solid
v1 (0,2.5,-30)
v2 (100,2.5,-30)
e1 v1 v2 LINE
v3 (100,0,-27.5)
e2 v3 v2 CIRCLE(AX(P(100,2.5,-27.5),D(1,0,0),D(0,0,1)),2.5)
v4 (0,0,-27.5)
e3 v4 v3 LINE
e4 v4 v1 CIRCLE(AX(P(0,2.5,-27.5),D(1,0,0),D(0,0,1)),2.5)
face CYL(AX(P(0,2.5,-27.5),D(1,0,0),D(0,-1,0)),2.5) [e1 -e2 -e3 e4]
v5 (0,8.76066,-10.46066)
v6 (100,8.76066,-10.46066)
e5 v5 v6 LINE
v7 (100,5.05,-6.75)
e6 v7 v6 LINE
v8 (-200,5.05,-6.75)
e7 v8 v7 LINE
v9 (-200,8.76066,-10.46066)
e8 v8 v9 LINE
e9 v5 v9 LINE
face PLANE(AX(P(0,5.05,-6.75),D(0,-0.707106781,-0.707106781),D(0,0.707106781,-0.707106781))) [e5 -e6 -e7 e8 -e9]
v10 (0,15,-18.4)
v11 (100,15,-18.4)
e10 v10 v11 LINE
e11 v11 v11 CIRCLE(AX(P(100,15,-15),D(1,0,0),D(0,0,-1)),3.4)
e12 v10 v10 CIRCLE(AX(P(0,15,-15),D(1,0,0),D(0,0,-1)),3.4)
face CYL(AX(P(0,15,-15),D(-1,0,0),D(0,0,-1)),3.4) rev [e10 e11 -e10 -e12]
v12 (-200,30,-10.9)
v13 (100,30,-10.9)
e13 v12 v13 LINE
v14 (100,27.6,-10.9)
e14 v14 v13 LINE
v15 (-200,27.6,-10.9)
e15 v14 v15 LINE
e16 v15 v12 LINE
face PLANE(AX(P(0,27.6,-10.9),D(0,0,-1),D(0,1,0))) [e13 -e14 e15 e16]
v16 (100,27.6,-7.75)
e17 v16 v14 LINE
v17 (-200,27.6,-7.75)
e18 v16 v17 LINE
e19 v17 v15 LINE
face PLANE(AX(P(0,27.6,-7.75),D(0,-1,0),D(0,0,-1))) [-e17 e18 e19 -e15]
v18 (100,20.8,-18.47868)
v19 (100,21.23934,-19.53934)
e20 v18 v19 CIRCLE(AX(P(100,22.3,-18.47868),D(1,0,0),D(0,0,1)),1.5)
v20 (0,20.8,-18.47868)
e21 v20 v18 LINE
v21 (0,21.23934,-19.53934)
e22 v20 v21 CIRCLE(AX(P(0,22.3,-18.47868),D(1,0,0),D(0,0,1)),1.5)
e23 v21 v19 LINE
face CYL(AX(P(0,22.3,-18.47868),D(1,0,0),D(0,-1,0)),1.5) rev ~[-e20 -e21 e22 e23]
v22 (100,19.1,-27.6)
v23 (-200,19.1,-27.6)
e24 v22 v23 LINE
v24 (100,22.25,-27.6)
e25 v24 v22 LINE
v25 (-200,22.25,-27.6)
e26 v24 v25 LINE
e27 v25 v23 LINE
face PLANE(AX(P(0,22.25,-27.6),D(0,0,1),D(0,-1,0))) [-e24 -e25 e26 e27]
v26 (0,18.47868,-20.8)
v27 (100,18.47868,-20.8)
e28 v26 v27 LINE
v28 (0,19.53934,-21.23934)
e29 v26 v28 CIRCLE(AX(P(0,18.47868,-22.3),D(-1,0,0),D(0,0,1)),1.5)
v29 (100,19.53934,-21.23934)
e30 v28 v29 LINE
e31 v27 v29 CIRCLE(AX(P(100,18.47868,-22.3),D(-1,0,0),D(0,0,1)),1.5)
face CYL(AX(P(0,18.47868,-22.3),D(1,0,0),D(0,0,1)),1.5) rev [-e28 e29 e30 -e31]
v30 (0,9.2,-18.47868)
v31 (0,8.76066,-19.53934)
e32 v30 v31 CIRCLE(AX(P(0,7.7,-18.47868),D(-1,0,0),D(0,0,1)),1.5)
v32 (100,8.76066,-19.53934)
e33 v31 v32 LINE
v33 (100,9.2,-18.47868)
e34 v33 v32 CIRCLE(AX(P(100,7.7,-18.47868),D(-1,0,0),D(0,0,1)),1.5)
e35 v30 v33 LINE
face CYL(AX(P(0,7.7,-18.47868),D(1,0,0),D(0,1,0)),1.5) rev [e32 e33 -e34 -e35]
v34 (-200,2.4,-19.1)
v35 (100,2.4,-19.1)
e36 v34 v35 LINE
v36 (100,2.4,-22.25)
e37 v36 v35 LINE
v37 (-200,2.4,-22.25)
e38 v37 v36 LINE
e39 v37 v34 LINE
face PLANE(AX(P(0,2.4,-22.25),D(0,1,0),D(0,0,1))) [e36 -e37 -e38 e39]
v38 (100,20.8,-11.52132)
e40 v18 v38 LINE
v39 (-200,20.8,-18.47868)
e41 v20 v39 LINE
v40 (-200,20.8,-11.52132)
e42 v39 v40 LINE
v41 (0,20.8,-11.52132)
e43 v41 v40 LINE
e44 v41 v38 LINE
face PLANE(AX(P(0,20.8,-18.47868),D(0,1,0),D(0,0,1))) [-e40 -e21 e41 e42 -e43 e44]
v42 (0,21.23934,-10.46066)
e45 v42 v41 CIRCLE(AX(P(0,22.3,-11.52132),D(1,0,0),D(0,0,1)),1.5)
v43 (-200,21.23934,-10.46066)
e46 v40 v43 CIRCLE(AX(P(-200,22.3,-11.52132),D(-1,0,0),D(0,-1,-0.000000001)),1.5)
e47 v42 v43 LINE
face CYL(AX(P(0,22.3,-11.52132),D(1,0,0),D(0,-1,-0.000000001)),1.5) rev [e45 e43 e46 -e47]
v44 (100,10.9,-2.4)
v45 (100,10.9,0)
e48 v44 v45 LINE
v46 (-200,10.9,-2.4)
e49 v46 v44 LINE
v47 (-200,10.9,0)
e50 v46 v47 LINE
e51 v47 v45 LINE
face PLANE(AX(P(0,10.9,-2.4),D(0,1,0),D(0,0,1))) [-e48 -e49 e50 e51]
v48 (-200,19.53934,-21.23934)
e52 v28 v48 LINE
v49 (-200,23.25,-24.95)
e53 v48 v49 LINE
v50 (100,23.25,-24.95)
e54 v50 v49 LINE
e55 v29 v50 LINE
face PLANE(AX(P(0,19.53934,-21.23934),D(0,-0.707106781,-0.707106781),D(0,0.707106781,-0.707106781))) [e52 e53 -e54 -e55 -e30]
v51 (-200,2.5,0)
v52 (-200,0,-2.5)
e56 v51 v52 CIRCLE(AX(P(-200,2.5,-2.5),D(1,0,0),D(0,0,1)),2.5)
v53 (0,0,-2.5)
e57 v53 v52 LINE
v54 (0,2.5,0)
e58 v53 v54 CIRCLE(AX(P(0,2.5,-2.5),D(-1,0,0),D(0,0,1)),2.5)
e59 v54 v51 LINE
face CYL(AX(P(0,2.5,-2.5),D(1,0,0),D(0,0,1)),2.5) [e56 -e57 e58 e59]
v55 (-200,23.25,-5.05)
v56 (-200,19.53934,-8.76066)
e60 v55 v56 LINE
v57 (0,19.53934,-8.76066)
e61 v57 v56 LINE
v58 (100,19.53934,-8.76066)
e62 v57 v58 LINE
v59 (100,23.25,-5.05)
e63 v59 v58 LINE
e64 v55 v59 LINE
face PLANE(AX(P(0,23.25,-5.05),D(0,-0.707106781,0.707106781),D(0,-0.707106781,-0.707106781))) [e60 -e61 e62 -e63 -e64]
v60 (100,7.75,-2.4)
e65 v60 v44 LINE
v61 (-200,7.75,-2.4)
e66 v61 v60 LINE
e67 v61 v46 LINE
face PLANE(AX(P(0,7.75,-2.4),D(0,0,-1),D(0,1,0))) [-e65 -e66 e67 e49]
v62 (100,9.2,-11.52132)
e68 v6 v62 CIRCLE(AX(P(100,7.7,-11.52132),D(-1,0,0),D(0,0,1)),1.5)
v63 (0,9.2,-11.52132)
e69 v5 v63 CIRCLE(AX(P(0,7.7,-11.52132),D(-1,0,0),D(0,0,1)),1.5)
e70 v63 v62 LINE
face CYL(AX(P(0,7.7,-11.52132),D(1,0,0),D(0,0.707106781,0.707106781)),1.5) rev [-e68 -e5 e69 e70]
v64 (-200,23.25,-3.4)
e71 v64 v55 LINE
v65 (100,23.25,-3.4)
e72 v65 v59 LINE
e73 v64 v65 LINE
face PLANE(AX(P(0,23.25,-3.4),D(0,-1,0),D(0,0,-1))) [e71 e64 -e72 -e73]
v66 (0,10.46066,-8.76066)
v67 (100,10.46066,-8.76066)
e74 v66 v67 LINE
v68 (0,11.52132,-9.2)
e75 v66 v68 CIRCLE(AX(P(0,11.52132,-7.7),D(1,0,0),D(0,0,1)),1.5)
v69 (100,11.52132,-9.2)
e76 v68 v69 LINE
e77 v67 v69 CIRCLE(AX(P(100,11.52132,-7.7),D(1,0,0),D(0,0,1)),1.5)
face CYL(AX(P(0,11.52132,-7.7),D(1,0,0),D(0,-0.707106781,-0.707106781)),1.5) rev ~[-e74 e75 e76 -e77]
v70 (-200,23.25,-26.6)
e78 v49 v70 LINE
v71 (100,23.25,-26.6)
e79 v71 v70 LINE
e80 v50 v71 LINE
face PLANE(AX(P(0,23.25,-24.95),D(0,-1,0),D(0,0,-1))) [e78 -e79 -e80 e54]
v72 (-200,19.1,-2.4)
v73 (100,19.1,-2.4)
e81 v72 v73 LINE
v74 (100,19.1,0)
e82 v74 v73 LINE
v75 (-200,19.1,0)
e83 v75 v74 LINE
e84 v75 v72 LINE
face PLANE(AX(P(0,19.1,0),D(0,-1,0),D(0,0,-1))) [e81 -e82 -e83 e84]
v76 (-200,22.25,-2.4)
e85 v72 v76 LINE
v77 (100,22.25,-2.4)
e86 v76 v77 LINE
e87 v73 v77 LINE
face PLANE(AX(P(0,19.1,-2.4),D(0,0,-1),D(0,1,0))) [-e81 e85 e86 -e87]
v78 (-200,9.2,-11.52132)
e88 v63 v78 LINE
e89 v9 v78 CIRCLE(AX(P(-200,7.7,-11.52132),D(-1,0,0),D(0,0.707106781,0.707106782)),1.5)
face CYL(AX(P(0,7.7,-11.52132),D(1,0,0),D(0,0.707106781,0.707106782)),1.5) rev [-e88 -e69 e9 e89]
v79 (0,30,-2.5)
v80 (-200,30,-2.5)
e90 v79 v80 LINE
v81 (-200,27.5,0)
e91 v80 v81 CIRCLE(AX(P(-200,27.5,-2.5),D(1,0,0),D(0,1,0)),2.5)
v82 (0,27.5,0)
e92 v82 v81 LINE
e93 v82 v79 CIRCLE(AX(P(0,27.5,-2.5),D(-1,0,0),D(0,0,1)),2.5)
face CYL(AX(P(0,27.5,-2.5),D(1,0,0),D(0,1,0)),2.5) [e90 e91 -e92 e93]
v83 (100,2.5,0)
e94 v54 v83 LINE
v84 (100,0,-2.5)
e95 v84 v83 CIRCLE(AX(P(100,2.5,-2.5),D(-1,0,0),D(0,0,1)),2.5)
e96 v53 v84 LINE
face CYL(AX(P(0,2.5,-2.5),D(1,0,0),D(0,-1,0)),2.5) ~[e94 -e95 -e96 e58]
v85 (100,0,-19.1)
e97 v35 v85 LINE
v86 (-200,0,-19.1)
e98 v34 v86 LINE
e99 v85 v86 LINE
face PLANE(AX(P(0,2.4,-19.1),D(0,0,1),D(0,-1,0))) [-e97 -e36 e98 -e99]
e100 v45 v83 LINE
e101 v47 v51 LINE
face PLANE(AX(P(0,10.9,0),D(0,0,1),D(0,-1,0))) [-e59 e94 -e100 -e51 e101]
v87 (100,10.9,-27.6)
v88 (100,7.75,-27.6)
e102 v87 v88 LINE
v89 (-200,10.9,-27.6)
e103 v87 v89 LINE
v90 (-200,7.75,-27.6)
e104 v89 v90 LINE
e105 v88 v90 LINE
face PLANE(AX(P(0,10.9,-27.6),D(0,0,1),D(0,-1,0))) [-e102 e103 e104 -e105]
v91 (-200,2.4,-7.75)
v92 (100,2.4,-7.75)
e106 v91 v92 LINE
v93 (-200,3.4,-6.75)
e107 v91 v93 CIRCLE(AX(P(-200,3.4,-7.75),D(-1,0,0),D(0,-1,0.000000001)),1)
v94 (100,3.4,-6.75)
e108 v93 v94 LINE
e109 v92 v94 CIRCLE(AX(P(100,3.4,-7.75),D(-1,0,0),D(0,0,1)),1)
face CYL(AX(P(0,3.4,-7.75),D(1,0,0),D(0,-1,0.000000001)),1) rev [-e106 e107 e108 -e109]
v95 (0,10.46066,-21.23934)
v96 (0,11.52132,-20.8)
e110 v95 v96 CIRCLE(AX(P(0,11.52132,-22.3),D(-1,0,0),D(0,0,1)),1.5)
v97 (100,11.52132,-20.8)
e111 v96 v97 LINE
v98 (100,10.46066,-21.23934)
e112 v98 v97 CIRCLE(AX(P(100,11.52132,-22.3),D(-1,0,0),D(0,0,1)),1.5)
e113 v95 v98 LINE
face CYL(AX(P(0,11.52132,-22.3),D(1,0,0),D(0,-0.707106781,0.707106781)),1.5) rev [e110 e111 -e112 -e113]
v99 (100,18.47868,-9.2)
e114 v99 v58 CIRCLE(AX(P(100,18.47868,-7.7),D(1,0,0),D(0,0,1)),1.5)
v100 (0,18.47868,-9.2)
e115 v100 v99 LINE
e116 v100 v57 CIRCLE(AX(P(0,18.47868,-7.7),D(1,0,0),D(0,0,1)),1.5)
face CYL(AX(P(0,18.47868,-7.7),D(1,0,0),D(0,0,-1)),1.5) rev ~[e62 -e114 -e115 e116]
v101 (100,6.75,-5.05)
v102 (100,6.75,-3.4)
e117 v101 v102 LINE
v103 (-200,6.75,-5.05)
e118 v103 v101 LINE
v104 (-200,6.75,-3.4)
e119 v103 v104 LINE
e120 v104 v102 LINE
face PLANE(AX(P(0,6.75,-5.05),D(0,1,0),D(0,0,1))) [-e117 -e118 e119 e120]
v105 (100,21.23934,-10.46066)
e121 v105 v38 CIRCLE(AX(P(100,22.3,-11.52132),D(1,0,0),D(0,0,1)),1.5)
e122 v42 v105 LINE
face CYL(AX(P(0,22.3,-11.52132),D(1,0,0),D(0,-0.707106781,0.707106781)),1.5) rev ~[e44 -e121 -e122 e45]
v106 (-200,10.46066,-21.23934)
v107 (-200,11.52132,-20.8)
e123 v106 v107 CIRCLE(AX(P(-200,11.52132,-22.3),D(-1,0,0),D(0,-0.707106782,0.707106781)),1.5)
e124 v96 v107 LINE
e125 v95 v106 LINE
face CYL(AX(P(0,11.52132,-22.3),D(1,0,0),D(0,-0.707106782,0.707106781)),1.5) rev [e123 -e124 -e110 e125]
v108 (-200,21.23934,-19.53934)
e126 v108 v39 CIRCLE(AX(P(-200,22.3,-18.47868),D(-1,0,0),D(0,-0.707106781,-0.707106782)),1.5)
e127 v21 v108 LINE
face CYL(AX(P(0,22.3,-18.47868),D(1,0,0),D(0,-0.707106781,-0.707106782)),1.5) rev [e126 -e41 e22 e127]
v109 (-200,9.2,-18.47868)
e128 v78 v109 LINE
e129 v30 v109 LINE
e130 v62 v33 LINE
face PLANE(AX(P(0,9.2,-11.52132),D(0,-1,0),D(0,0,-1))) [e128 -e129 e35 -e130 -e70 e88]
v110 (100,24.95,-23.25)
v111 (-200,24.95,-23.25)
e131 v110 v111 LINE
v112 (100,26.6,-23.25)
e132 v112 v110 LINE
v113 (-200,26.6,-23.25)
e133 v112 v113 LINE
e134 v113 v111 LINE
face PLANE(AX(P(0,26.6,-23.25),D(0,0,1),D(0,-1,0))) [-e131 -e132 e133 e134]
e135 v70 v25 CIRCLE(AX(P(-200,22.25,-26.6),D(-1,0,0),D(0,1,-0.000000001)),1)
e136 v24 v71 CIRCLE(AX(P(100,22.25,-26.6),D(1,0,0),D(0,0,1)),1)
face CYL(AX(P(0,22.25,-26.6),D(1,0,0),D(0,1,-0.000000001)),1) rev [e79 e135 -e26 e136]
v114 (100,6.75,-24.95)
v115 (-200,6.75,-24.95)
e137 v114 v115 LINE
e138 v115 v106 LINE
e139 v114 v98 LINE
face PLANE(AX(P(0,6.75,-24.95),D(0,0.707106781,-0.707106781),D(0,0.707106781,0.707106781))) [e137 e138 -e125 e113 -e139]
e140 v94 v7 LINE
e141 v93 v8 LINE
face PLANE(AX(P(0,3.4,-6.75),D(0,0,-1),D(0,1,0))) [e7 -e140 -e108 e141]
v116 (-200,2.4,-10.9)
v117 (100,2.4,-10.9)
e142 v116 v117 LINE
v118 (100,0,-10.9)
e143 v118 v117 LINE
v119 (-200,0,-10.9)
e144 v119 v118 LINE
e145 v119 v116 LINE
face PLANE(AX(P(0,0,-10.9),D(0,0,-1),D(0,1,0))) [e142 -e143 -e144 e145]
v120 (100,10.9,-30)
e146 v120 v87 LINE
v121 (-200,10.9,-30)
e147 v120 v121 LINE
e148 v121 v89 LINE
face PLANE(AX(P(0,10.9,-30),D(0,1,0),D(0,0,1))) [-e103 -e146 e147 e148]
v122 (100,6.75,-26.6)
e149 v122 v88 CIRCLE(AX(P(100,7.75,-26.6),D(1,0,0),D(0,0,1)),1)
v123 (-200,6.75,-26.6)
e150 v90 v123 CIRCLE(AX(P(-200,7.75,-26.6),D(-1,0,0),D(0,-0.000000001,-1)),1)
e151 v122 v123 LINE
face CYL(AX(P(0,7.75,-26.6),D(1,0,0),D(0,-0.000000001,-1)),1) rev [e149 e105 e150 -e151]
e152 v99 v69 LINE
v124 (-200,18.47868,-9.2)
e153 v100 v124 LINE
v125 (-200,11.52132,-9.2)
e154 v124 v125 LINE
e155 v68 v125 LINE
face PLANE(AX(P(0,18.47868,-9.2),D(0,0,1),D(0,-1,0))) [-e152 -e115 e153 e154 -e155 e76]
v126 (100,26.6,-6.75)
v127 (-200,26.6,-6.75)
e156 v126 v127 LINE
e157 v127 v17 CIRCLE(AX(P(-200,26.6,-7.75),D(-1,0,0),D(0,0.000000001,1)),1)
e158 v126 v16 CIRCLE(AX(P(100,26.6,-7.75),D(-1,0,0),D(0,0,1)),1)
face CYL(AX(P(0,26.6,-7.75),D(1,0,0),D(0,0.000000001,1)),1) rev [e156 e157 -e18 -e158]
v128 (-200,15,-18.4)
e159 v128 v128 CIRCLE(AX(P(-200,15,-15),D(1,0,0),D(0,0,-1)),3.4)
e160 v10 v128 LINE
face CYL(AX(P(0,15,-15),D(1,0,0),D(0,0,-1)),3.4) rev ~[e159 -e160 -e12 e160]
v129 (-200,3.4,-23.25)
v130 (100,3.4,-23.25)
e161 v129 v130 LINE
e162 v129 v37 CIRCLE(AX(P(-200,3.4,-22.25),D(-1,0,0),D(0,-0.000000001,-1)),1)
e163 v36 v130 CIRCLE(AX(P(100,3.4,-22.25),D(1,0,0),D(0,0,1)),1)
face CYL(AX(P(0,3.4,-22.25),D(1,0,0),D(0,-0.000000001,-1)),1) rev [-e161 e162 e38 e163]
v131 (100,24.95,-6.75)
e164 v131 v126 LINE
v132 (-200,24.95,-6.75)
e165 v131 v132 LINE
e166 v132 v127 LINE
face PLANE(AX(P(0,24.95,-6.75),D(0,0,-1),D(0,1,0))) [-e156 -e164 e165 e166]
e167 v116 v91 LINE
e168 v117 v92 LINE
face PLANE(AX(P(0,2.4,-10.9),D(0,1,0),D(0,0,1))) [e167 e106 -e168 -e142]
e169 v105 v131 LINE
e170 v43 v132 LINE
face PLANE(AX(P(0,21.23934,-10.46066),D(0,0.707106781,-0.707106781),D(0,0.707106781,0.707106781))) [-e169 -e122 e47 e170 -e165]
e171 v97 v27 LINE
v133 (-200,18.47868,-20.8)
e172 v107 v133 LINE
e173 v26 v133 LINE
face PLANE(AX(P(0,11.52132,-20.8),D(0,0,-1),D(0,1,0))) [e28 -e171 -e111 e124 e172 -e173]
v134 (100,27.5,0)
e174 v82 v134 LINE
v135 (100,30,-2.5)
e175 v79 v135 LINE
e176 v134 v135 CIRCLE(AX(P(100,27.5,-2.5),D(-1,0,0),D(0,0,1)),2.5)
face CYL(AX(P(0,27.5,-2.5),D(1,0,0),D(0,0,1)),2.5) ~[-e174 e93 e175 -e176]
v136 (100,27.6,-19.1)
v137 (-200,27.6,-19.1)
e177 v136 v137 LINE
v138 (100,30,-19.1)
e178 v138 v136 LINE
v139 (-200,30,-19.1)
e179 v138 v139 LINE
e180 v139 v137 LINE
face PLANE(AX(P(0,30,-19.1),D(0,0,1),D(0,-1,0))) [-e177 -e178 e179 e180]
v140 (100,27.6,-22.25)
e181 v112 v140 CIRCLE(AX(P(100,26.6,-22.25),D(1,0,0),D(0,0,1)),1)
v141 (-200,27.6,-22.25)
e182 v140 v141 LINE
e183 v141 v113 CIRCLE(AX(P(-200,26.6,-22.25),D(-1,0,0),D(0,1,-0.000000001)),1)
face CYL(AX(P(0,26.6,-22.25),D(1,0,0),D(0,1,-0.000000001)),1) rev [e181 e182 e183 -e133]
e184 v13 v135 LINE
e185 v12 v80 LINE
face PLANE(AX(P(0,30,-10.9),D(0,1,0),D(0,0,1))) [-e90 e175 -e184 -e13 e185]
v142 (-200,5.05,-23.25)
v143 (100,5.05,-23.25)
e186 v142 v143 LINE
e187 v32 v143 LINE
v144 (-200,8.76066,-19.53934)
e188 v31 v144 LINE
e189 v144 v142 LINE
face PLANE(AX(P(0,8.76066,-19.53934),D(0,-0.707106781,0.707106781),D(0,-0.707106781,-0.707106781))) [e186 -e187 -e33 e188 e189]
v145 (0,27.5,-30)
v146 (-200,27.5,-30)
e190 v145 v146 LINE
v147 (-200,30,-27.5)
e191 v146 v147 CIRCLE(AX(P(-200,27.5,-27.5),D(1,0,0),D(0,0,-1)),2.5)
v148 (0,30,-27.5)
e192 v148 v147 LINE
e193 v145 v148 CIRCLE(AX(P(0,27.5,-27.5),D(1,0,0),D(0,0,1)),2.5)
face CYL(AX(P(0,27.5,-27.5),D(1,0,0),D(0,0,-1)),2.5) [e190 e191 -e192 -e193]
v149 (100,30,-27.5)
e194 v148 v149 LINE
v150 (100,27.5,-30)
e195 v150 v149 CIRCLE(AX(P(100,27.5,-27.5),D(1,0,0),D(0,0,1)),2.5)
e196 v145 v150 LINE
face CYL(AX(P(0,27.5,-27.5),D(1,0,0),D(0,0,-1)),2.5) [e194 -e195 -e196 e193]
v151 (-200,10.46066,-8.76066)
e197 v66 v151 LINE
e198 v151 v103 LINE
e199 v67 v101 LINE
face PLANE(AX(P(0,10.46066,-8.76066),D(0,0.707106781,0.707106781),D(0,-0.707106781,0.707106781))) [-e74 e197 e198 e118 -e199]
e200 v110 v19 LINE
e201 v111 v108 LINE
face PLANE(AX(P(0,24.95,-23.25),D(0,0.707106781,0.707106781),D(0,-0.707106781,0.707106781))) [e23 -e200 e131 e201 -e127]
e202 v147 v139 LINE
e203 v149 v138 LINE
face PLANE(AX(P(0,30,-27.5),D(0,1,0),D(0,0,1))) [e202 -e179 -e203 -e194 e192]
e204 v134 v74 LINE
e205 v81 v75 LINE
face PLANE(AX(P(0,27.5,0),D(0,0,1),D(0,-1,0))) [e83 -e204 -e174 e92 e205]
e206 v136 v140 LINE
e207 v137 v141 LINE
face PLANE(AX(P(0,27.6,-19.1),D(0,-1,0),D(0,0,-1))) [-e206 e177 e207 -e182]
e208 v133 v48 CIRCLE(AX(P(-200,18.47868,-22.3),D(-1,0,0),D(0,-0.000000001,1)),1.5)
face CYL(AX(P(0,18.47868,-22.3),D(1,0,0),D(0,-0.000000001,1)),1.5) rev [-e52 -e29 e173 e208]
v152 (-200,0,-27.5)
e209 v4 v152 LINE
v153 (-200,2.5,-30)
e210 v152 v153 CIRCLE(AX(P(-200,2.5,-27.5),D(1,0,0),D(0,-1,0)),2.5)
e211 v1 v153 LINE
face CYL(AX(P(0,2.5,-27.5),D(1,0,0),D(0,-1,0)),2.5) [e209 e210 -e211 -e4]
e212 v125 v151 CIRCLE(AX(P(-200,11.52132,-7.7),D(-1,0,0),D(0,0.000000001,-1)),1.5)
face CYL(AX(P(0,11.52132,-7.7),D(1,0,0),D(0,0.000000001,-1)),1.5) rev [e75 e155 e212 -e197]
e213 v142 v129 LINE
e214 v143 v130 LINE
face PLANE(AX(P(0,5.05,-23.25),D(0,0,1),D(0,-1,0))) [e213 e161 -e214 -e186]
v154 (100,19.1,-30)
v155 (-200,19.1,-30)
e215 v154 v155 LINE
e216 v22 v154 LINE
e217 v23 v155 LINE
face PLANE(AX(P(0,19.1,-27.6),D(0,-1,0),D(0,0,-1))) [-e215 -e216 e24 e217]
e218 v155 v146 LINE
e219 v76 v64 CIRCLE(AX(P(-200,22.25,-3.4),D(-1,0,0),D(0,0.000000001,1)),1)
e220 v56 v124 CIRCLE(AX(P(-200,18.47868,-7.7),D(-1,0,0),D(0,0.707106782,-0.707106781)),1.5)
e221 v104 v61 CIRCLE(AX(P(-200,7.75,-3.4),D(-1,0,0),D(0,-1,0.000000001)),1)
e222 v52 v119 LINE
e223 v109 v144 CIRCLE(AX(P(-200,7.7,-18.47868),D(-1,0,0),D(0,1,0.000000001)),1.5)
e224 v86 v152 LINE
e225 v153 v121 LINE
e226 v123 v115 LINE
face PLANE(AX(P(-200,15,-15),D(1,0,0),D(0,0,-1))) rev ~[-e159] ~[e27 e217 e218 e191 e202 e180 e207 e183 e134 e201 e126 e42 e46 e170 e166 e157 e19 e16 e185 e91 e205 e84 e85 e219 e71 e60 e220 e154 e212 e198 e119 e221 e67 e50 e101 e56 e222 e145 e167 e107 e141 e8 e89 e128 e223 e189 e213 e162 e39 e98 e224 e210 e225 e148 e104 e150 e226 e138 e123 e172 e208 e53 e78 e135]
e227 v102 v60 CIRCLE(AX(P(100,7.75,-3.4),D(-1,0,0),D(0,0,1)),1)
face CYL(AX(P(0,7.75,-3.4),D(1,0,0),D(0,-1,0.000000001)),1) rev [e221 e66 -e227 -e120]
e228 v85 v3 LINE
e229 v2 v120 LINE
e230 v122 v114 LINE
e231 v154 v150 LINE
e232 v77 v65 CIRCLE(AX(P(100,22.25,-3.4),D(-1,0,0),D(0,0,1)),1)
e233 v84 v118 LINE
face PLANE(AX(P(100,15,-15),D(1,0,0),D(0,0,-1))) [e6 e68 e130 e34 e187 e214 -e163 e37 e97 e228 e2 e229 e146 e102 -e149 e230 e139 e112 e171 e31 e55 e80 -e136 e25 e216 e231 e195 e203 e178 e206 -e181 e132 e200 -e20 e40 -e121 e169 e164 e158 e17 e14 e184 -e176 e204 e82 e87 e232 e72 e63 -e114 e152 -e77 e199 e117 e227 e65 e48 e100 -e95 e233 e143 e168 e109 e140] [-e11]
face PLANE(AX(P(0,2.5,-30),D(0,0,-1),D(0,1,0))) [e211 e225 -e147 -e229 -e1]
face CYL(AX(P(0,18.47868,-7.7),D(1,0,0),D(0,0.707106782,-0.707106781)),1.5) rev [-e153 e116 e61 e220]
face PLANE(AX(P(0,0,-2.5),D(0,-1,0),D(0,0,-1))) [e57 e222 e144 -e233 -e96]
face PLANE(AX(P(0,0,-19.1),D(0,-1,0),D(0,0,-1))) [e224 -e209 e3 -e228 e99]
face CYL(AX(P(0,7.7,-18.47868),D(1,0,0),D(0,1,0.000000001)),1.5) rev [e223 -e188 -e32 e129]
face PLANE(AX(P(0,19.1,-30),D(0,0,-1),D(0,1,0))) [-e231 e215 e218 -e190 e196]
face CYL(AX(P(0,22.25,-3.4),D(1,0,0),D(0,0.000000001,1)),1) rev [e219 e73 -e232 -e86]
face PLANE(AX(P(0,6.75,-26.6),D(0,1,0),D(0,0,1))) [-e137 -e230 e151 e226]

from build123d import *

# Parameters (mm, degrees)
SKETCH1_R           = 3.4
BOSS_EXTRUDE2_DEPTH = 100
FILLET5_R           = 2.5
FILLET6_R           = 1.5
FILLET7_R           = 1.5
FILLET8_R           = 1
SKETCH3_R           = 3.4
BOSS_EXTRUDE4_DEPTH = 200


with BuildPart() as part:
    # Sketch1 → Boss-Extrude2 (new body)
    with BuildSketch(Plane(origin=(0, 0, 0), x_dir=(0, 0, -1), z_dir=(1, 0, 0))):
        Polygon((10.9, 0), (10.9, 2.4), (6.75, 2.4), (6.75, 5.05), (10.9, 9.2), (19.1, 9.2), (23.25, 5.05), (23.25, 2.4), (19.1, 2.4), (19.1, 0), (30, 0), (30, 10.9), (27.6, 10.9), (27.6, 6.75), (24.95, 6.75), (20.8, 10.9), (20.8, 19.1), (24.95, 23.25), (27.6, 23.25), (27.6, 19.1), (30, 19.1), (30, 30), (19.1, 30), (19.1, 27.6), (23.25, 27.6), (23.25, 24.95), (19.1, 20.8), (10.9, 20.8), (6.75, 24.95), (6.75, 27.6), (10.9, 27.6), (10.9, 30), (0, 30), (0, 19.1), (2.4, 19.1), (2.4, 23.25), (5.05, 23.25), (9.2, 19.1), (9.2, 10.9), (5.05, 6.75), (2.4, 6.75), (2.4, 10.9), (0, 10.9), (0, 0), align=None)
        with Locations((15, 15)):
            Circle(SKETCH1_R, mode=Mode.SUBTRACT)
    extrude(amount=BOSS_EXTRUDE2_DEPTH)

    # Fillet5
    fillet5_edges = [part.edges().sort_by_distance(p)[0] for p in [
        (50, 30, 0),
        (50, 30, -30),
        (50, 0, -30),
        (50, 0, 0),
    ]]
    fillet(fillet5_edges, radius=FILLET5_R)

    # Fillet6
    fillet6_edges = [part.edges().sort_by_distance(p)[0] for p in [
        (50, 10.9, -9.2),
        (50, 19.1, -9.2),
        (50, 19.1, -20.8),
        (50, 10.9, -20.8),
        (50, 9.2, -19.1),
        (50, 9.2, -10.9),
    ]]
    fillet(fillet6_edges, radius=FILLET6_R)

    # Fillet7
    fillet7_edges = [part.edges().sort_by_distance(p)[0] for p in [
        (50, 20.8, -10.9),
        (50, 20.8, -19.1),
    ]]
    fillet(fillet7_edges, radius=FILLET7_R)

    # Fillet8
    fillet8_edges = [part.edges().sort_by_distance(p)[0] for p in [
        (50, 6.75, -2.4),
        (50, 23.25, -2.4),
        (50, 27.6, -6.75),
        (50, 27.6, -23.25),
        (50, 23.25, -27.6),
        (50, 6.75, -27.6),
        (50, 2.4, -23.25),
        (50, 2.4, -6.75),
    ]]
    fillet(fillet8_edges, radius=FILLET8_R)

    # Sketch3 → Boss-Extrude4 (add)
    with BuildSketch(Plane(origin=(0, 0, 0), x_dir=(0, 0, -1), z_dir=(1, 0, 0))):
        with BuildLine():
            Line((10.9, 27.6), (10.9, 30))
            Line((10.9, 30), (2.5, 30))
            ThreePointArc((2.5, 30), (0.732233047, 29.267766953), (0, 27.5))
            Line((0, 27.5), (0, 19.1))
            Line((0, 19.1), (2.4, 19.1))
            Line((2.4, 19.1), (2.4, 22.25))
            ThreePointArc((2.4, 22.25), (2.692893219, 22.957106781), (3.4, 23.25))
            Line((3.4, 23.25), (5.05, 23.25))
            Line((5.05, 23.25), (8.760660172, 19.539339828))
            ThreePointArc((8.760660172, 19.539339828), (9.085819299, 19.052704805), (9.2, 18.478679656))
            Line((9.2, 18.478679656), (9.2, 11.521320344))
            ThreePointArc((9.2, 11.521320344), (9.085819299, 10.947295195), (8.760660172, 10.460660172))
            Line((8.760660172, 10.460660172), (5.05, 6.75))
            Line((5.05, 6.75), (3.4, 6.75))
            ThreePointArc((3.4, 6.75), (2.692893219, 7.042893219), (2.4, 7.75))
            Line((2.4, 7.75), (2.4, 10.9))
            Line((2.4, 10.9), (0, 10.9))
            Line((0, 10.9), (0, 2.5))
            ThreePointArc((0, 2.5), (0.732233047, 0.732233047), (2.5, 0))
            Line((2.5, 0), (10.9, 0))
            Line((10.9, 0), (10.9, 2.4))
            Line((10.9, 2.4), (7.75, 2.4))
            ThreePointArc((7.75, 2.4), (7.042893219, 2.692893219), (6.75, 3.4))
            Line((6.75, 3.4), (6.75, 5.05))
            Line((6.75, 5.05), (10.460660172, 8.760660172))
            ThreePointArc((10.460660172, 8.760660172), (10.947295195, 9.085819299), (11.521320344, 9.2))
            Line((11.521320344, 9.2), (18.478679656, 9.2))
            ThreePointArc((18.478679656, 9.2), (19.052704805, 9.085819299), (19.539339828, 8.760660172))
            Line((19.539339828, 8.760660172), (23.25, 5.05))
            Line((23.25, 5.05), (23.25, 3.4))
            ThreePointArc((23.25, 3.4), (22.957106781, 2.692893219), (22.25, 2.4))
            Line((22.25, 2.4), (19.1, 2.4))
            Line((19.1, 2.4), (19.1, 0))
            Line((19.1, 0), (27.5, 0))
            ThreePointArc((27.5, 0), (29.267766953, 0.732233047), (30, 2.5))
            Line((30, 2.5), (30, 10.9))
            Line((30, 10.9), (27.6, 10.9))
            Line((27.6, 10.9), (27.6, 7.75))
            ThreePointArc((27.6, 7.75), (27.307106781, 7.042893219), (26.6, 6.75))
            Line((26.6, 6.75), (24.95, 6.75))
            Line((24.95, 6.75), (21.239339828, 10.460660172))
            ThreePointArc((21.239339828, 10.460660172), (20.914180701, 10.947295195), (20.8, 11.521320344))
            Line((20.8, 11.521320344), (20.8, 18.478679656))
            ThreePointArc((20.8, 18.478679656), (20.914180701, 19.052704805), (21.239339828, 19.539339828))
            Line((21.239339828, 19.539339828), (24.95, 23.25))
            Line((24.95, 23.25), (26.6, 23.25))
            ThreePointArc((26.6, 23.25), (27.307106781, 22.957106781), (27.6, 22.25))
            Line((27.6, 22.25), (27.6, 19.1))
            Line((27.6, 19.1), (30, 19.1))
            Line((30, 19.1), (30, 27.5))
            ThreePointArc((30, 27.5), (29.267766953, 29.267766953), (27.5, 30))
            Line((27.5, 30), (19.1, 30))
            Line((19.1, 30), (19.1, 27.6))
            Line((19.1, 27.6), (22.25, 27.6))
            ThreePointArc((22.25, 27.6), (22.957106781, 27.307106781), (23.25, 26.6))
            Line((23.25, 26.6), (23.25, 24.95))
            Line((23.25, 24.95), (19.539339828, 21.239339828))
            ThreePointArc((19.539339828, 21.239339828), (19.052704805, 20.914180701), (18.478679656, 20.8))
            Line((18.478679656, 20.8), (11.521320344, 20.8))
            ThreePointArc((11.521320344, 20.8), (10.947295195, 20.914180701), (10.460660172, 21.239339828))
            Line((10.460660172, 21.239339828), (6.75, 24.95))
            Line((6.75, 24.95), (6.75, 26.6))
            ThreePointArc((6.75, 26.6), (7.042893219, 27.307106781), (7.75, 27.6))
            Line((7.75, 27.6), (10.9, 27.6))
        make_face()
        with Locations((15, 15)):
            Circle(SKETCH3_R, mode=Mode.SUBTRACT)
    extrude(amount=-BOSS_EXTRUDE4_DEPTH)


solid = part.part
